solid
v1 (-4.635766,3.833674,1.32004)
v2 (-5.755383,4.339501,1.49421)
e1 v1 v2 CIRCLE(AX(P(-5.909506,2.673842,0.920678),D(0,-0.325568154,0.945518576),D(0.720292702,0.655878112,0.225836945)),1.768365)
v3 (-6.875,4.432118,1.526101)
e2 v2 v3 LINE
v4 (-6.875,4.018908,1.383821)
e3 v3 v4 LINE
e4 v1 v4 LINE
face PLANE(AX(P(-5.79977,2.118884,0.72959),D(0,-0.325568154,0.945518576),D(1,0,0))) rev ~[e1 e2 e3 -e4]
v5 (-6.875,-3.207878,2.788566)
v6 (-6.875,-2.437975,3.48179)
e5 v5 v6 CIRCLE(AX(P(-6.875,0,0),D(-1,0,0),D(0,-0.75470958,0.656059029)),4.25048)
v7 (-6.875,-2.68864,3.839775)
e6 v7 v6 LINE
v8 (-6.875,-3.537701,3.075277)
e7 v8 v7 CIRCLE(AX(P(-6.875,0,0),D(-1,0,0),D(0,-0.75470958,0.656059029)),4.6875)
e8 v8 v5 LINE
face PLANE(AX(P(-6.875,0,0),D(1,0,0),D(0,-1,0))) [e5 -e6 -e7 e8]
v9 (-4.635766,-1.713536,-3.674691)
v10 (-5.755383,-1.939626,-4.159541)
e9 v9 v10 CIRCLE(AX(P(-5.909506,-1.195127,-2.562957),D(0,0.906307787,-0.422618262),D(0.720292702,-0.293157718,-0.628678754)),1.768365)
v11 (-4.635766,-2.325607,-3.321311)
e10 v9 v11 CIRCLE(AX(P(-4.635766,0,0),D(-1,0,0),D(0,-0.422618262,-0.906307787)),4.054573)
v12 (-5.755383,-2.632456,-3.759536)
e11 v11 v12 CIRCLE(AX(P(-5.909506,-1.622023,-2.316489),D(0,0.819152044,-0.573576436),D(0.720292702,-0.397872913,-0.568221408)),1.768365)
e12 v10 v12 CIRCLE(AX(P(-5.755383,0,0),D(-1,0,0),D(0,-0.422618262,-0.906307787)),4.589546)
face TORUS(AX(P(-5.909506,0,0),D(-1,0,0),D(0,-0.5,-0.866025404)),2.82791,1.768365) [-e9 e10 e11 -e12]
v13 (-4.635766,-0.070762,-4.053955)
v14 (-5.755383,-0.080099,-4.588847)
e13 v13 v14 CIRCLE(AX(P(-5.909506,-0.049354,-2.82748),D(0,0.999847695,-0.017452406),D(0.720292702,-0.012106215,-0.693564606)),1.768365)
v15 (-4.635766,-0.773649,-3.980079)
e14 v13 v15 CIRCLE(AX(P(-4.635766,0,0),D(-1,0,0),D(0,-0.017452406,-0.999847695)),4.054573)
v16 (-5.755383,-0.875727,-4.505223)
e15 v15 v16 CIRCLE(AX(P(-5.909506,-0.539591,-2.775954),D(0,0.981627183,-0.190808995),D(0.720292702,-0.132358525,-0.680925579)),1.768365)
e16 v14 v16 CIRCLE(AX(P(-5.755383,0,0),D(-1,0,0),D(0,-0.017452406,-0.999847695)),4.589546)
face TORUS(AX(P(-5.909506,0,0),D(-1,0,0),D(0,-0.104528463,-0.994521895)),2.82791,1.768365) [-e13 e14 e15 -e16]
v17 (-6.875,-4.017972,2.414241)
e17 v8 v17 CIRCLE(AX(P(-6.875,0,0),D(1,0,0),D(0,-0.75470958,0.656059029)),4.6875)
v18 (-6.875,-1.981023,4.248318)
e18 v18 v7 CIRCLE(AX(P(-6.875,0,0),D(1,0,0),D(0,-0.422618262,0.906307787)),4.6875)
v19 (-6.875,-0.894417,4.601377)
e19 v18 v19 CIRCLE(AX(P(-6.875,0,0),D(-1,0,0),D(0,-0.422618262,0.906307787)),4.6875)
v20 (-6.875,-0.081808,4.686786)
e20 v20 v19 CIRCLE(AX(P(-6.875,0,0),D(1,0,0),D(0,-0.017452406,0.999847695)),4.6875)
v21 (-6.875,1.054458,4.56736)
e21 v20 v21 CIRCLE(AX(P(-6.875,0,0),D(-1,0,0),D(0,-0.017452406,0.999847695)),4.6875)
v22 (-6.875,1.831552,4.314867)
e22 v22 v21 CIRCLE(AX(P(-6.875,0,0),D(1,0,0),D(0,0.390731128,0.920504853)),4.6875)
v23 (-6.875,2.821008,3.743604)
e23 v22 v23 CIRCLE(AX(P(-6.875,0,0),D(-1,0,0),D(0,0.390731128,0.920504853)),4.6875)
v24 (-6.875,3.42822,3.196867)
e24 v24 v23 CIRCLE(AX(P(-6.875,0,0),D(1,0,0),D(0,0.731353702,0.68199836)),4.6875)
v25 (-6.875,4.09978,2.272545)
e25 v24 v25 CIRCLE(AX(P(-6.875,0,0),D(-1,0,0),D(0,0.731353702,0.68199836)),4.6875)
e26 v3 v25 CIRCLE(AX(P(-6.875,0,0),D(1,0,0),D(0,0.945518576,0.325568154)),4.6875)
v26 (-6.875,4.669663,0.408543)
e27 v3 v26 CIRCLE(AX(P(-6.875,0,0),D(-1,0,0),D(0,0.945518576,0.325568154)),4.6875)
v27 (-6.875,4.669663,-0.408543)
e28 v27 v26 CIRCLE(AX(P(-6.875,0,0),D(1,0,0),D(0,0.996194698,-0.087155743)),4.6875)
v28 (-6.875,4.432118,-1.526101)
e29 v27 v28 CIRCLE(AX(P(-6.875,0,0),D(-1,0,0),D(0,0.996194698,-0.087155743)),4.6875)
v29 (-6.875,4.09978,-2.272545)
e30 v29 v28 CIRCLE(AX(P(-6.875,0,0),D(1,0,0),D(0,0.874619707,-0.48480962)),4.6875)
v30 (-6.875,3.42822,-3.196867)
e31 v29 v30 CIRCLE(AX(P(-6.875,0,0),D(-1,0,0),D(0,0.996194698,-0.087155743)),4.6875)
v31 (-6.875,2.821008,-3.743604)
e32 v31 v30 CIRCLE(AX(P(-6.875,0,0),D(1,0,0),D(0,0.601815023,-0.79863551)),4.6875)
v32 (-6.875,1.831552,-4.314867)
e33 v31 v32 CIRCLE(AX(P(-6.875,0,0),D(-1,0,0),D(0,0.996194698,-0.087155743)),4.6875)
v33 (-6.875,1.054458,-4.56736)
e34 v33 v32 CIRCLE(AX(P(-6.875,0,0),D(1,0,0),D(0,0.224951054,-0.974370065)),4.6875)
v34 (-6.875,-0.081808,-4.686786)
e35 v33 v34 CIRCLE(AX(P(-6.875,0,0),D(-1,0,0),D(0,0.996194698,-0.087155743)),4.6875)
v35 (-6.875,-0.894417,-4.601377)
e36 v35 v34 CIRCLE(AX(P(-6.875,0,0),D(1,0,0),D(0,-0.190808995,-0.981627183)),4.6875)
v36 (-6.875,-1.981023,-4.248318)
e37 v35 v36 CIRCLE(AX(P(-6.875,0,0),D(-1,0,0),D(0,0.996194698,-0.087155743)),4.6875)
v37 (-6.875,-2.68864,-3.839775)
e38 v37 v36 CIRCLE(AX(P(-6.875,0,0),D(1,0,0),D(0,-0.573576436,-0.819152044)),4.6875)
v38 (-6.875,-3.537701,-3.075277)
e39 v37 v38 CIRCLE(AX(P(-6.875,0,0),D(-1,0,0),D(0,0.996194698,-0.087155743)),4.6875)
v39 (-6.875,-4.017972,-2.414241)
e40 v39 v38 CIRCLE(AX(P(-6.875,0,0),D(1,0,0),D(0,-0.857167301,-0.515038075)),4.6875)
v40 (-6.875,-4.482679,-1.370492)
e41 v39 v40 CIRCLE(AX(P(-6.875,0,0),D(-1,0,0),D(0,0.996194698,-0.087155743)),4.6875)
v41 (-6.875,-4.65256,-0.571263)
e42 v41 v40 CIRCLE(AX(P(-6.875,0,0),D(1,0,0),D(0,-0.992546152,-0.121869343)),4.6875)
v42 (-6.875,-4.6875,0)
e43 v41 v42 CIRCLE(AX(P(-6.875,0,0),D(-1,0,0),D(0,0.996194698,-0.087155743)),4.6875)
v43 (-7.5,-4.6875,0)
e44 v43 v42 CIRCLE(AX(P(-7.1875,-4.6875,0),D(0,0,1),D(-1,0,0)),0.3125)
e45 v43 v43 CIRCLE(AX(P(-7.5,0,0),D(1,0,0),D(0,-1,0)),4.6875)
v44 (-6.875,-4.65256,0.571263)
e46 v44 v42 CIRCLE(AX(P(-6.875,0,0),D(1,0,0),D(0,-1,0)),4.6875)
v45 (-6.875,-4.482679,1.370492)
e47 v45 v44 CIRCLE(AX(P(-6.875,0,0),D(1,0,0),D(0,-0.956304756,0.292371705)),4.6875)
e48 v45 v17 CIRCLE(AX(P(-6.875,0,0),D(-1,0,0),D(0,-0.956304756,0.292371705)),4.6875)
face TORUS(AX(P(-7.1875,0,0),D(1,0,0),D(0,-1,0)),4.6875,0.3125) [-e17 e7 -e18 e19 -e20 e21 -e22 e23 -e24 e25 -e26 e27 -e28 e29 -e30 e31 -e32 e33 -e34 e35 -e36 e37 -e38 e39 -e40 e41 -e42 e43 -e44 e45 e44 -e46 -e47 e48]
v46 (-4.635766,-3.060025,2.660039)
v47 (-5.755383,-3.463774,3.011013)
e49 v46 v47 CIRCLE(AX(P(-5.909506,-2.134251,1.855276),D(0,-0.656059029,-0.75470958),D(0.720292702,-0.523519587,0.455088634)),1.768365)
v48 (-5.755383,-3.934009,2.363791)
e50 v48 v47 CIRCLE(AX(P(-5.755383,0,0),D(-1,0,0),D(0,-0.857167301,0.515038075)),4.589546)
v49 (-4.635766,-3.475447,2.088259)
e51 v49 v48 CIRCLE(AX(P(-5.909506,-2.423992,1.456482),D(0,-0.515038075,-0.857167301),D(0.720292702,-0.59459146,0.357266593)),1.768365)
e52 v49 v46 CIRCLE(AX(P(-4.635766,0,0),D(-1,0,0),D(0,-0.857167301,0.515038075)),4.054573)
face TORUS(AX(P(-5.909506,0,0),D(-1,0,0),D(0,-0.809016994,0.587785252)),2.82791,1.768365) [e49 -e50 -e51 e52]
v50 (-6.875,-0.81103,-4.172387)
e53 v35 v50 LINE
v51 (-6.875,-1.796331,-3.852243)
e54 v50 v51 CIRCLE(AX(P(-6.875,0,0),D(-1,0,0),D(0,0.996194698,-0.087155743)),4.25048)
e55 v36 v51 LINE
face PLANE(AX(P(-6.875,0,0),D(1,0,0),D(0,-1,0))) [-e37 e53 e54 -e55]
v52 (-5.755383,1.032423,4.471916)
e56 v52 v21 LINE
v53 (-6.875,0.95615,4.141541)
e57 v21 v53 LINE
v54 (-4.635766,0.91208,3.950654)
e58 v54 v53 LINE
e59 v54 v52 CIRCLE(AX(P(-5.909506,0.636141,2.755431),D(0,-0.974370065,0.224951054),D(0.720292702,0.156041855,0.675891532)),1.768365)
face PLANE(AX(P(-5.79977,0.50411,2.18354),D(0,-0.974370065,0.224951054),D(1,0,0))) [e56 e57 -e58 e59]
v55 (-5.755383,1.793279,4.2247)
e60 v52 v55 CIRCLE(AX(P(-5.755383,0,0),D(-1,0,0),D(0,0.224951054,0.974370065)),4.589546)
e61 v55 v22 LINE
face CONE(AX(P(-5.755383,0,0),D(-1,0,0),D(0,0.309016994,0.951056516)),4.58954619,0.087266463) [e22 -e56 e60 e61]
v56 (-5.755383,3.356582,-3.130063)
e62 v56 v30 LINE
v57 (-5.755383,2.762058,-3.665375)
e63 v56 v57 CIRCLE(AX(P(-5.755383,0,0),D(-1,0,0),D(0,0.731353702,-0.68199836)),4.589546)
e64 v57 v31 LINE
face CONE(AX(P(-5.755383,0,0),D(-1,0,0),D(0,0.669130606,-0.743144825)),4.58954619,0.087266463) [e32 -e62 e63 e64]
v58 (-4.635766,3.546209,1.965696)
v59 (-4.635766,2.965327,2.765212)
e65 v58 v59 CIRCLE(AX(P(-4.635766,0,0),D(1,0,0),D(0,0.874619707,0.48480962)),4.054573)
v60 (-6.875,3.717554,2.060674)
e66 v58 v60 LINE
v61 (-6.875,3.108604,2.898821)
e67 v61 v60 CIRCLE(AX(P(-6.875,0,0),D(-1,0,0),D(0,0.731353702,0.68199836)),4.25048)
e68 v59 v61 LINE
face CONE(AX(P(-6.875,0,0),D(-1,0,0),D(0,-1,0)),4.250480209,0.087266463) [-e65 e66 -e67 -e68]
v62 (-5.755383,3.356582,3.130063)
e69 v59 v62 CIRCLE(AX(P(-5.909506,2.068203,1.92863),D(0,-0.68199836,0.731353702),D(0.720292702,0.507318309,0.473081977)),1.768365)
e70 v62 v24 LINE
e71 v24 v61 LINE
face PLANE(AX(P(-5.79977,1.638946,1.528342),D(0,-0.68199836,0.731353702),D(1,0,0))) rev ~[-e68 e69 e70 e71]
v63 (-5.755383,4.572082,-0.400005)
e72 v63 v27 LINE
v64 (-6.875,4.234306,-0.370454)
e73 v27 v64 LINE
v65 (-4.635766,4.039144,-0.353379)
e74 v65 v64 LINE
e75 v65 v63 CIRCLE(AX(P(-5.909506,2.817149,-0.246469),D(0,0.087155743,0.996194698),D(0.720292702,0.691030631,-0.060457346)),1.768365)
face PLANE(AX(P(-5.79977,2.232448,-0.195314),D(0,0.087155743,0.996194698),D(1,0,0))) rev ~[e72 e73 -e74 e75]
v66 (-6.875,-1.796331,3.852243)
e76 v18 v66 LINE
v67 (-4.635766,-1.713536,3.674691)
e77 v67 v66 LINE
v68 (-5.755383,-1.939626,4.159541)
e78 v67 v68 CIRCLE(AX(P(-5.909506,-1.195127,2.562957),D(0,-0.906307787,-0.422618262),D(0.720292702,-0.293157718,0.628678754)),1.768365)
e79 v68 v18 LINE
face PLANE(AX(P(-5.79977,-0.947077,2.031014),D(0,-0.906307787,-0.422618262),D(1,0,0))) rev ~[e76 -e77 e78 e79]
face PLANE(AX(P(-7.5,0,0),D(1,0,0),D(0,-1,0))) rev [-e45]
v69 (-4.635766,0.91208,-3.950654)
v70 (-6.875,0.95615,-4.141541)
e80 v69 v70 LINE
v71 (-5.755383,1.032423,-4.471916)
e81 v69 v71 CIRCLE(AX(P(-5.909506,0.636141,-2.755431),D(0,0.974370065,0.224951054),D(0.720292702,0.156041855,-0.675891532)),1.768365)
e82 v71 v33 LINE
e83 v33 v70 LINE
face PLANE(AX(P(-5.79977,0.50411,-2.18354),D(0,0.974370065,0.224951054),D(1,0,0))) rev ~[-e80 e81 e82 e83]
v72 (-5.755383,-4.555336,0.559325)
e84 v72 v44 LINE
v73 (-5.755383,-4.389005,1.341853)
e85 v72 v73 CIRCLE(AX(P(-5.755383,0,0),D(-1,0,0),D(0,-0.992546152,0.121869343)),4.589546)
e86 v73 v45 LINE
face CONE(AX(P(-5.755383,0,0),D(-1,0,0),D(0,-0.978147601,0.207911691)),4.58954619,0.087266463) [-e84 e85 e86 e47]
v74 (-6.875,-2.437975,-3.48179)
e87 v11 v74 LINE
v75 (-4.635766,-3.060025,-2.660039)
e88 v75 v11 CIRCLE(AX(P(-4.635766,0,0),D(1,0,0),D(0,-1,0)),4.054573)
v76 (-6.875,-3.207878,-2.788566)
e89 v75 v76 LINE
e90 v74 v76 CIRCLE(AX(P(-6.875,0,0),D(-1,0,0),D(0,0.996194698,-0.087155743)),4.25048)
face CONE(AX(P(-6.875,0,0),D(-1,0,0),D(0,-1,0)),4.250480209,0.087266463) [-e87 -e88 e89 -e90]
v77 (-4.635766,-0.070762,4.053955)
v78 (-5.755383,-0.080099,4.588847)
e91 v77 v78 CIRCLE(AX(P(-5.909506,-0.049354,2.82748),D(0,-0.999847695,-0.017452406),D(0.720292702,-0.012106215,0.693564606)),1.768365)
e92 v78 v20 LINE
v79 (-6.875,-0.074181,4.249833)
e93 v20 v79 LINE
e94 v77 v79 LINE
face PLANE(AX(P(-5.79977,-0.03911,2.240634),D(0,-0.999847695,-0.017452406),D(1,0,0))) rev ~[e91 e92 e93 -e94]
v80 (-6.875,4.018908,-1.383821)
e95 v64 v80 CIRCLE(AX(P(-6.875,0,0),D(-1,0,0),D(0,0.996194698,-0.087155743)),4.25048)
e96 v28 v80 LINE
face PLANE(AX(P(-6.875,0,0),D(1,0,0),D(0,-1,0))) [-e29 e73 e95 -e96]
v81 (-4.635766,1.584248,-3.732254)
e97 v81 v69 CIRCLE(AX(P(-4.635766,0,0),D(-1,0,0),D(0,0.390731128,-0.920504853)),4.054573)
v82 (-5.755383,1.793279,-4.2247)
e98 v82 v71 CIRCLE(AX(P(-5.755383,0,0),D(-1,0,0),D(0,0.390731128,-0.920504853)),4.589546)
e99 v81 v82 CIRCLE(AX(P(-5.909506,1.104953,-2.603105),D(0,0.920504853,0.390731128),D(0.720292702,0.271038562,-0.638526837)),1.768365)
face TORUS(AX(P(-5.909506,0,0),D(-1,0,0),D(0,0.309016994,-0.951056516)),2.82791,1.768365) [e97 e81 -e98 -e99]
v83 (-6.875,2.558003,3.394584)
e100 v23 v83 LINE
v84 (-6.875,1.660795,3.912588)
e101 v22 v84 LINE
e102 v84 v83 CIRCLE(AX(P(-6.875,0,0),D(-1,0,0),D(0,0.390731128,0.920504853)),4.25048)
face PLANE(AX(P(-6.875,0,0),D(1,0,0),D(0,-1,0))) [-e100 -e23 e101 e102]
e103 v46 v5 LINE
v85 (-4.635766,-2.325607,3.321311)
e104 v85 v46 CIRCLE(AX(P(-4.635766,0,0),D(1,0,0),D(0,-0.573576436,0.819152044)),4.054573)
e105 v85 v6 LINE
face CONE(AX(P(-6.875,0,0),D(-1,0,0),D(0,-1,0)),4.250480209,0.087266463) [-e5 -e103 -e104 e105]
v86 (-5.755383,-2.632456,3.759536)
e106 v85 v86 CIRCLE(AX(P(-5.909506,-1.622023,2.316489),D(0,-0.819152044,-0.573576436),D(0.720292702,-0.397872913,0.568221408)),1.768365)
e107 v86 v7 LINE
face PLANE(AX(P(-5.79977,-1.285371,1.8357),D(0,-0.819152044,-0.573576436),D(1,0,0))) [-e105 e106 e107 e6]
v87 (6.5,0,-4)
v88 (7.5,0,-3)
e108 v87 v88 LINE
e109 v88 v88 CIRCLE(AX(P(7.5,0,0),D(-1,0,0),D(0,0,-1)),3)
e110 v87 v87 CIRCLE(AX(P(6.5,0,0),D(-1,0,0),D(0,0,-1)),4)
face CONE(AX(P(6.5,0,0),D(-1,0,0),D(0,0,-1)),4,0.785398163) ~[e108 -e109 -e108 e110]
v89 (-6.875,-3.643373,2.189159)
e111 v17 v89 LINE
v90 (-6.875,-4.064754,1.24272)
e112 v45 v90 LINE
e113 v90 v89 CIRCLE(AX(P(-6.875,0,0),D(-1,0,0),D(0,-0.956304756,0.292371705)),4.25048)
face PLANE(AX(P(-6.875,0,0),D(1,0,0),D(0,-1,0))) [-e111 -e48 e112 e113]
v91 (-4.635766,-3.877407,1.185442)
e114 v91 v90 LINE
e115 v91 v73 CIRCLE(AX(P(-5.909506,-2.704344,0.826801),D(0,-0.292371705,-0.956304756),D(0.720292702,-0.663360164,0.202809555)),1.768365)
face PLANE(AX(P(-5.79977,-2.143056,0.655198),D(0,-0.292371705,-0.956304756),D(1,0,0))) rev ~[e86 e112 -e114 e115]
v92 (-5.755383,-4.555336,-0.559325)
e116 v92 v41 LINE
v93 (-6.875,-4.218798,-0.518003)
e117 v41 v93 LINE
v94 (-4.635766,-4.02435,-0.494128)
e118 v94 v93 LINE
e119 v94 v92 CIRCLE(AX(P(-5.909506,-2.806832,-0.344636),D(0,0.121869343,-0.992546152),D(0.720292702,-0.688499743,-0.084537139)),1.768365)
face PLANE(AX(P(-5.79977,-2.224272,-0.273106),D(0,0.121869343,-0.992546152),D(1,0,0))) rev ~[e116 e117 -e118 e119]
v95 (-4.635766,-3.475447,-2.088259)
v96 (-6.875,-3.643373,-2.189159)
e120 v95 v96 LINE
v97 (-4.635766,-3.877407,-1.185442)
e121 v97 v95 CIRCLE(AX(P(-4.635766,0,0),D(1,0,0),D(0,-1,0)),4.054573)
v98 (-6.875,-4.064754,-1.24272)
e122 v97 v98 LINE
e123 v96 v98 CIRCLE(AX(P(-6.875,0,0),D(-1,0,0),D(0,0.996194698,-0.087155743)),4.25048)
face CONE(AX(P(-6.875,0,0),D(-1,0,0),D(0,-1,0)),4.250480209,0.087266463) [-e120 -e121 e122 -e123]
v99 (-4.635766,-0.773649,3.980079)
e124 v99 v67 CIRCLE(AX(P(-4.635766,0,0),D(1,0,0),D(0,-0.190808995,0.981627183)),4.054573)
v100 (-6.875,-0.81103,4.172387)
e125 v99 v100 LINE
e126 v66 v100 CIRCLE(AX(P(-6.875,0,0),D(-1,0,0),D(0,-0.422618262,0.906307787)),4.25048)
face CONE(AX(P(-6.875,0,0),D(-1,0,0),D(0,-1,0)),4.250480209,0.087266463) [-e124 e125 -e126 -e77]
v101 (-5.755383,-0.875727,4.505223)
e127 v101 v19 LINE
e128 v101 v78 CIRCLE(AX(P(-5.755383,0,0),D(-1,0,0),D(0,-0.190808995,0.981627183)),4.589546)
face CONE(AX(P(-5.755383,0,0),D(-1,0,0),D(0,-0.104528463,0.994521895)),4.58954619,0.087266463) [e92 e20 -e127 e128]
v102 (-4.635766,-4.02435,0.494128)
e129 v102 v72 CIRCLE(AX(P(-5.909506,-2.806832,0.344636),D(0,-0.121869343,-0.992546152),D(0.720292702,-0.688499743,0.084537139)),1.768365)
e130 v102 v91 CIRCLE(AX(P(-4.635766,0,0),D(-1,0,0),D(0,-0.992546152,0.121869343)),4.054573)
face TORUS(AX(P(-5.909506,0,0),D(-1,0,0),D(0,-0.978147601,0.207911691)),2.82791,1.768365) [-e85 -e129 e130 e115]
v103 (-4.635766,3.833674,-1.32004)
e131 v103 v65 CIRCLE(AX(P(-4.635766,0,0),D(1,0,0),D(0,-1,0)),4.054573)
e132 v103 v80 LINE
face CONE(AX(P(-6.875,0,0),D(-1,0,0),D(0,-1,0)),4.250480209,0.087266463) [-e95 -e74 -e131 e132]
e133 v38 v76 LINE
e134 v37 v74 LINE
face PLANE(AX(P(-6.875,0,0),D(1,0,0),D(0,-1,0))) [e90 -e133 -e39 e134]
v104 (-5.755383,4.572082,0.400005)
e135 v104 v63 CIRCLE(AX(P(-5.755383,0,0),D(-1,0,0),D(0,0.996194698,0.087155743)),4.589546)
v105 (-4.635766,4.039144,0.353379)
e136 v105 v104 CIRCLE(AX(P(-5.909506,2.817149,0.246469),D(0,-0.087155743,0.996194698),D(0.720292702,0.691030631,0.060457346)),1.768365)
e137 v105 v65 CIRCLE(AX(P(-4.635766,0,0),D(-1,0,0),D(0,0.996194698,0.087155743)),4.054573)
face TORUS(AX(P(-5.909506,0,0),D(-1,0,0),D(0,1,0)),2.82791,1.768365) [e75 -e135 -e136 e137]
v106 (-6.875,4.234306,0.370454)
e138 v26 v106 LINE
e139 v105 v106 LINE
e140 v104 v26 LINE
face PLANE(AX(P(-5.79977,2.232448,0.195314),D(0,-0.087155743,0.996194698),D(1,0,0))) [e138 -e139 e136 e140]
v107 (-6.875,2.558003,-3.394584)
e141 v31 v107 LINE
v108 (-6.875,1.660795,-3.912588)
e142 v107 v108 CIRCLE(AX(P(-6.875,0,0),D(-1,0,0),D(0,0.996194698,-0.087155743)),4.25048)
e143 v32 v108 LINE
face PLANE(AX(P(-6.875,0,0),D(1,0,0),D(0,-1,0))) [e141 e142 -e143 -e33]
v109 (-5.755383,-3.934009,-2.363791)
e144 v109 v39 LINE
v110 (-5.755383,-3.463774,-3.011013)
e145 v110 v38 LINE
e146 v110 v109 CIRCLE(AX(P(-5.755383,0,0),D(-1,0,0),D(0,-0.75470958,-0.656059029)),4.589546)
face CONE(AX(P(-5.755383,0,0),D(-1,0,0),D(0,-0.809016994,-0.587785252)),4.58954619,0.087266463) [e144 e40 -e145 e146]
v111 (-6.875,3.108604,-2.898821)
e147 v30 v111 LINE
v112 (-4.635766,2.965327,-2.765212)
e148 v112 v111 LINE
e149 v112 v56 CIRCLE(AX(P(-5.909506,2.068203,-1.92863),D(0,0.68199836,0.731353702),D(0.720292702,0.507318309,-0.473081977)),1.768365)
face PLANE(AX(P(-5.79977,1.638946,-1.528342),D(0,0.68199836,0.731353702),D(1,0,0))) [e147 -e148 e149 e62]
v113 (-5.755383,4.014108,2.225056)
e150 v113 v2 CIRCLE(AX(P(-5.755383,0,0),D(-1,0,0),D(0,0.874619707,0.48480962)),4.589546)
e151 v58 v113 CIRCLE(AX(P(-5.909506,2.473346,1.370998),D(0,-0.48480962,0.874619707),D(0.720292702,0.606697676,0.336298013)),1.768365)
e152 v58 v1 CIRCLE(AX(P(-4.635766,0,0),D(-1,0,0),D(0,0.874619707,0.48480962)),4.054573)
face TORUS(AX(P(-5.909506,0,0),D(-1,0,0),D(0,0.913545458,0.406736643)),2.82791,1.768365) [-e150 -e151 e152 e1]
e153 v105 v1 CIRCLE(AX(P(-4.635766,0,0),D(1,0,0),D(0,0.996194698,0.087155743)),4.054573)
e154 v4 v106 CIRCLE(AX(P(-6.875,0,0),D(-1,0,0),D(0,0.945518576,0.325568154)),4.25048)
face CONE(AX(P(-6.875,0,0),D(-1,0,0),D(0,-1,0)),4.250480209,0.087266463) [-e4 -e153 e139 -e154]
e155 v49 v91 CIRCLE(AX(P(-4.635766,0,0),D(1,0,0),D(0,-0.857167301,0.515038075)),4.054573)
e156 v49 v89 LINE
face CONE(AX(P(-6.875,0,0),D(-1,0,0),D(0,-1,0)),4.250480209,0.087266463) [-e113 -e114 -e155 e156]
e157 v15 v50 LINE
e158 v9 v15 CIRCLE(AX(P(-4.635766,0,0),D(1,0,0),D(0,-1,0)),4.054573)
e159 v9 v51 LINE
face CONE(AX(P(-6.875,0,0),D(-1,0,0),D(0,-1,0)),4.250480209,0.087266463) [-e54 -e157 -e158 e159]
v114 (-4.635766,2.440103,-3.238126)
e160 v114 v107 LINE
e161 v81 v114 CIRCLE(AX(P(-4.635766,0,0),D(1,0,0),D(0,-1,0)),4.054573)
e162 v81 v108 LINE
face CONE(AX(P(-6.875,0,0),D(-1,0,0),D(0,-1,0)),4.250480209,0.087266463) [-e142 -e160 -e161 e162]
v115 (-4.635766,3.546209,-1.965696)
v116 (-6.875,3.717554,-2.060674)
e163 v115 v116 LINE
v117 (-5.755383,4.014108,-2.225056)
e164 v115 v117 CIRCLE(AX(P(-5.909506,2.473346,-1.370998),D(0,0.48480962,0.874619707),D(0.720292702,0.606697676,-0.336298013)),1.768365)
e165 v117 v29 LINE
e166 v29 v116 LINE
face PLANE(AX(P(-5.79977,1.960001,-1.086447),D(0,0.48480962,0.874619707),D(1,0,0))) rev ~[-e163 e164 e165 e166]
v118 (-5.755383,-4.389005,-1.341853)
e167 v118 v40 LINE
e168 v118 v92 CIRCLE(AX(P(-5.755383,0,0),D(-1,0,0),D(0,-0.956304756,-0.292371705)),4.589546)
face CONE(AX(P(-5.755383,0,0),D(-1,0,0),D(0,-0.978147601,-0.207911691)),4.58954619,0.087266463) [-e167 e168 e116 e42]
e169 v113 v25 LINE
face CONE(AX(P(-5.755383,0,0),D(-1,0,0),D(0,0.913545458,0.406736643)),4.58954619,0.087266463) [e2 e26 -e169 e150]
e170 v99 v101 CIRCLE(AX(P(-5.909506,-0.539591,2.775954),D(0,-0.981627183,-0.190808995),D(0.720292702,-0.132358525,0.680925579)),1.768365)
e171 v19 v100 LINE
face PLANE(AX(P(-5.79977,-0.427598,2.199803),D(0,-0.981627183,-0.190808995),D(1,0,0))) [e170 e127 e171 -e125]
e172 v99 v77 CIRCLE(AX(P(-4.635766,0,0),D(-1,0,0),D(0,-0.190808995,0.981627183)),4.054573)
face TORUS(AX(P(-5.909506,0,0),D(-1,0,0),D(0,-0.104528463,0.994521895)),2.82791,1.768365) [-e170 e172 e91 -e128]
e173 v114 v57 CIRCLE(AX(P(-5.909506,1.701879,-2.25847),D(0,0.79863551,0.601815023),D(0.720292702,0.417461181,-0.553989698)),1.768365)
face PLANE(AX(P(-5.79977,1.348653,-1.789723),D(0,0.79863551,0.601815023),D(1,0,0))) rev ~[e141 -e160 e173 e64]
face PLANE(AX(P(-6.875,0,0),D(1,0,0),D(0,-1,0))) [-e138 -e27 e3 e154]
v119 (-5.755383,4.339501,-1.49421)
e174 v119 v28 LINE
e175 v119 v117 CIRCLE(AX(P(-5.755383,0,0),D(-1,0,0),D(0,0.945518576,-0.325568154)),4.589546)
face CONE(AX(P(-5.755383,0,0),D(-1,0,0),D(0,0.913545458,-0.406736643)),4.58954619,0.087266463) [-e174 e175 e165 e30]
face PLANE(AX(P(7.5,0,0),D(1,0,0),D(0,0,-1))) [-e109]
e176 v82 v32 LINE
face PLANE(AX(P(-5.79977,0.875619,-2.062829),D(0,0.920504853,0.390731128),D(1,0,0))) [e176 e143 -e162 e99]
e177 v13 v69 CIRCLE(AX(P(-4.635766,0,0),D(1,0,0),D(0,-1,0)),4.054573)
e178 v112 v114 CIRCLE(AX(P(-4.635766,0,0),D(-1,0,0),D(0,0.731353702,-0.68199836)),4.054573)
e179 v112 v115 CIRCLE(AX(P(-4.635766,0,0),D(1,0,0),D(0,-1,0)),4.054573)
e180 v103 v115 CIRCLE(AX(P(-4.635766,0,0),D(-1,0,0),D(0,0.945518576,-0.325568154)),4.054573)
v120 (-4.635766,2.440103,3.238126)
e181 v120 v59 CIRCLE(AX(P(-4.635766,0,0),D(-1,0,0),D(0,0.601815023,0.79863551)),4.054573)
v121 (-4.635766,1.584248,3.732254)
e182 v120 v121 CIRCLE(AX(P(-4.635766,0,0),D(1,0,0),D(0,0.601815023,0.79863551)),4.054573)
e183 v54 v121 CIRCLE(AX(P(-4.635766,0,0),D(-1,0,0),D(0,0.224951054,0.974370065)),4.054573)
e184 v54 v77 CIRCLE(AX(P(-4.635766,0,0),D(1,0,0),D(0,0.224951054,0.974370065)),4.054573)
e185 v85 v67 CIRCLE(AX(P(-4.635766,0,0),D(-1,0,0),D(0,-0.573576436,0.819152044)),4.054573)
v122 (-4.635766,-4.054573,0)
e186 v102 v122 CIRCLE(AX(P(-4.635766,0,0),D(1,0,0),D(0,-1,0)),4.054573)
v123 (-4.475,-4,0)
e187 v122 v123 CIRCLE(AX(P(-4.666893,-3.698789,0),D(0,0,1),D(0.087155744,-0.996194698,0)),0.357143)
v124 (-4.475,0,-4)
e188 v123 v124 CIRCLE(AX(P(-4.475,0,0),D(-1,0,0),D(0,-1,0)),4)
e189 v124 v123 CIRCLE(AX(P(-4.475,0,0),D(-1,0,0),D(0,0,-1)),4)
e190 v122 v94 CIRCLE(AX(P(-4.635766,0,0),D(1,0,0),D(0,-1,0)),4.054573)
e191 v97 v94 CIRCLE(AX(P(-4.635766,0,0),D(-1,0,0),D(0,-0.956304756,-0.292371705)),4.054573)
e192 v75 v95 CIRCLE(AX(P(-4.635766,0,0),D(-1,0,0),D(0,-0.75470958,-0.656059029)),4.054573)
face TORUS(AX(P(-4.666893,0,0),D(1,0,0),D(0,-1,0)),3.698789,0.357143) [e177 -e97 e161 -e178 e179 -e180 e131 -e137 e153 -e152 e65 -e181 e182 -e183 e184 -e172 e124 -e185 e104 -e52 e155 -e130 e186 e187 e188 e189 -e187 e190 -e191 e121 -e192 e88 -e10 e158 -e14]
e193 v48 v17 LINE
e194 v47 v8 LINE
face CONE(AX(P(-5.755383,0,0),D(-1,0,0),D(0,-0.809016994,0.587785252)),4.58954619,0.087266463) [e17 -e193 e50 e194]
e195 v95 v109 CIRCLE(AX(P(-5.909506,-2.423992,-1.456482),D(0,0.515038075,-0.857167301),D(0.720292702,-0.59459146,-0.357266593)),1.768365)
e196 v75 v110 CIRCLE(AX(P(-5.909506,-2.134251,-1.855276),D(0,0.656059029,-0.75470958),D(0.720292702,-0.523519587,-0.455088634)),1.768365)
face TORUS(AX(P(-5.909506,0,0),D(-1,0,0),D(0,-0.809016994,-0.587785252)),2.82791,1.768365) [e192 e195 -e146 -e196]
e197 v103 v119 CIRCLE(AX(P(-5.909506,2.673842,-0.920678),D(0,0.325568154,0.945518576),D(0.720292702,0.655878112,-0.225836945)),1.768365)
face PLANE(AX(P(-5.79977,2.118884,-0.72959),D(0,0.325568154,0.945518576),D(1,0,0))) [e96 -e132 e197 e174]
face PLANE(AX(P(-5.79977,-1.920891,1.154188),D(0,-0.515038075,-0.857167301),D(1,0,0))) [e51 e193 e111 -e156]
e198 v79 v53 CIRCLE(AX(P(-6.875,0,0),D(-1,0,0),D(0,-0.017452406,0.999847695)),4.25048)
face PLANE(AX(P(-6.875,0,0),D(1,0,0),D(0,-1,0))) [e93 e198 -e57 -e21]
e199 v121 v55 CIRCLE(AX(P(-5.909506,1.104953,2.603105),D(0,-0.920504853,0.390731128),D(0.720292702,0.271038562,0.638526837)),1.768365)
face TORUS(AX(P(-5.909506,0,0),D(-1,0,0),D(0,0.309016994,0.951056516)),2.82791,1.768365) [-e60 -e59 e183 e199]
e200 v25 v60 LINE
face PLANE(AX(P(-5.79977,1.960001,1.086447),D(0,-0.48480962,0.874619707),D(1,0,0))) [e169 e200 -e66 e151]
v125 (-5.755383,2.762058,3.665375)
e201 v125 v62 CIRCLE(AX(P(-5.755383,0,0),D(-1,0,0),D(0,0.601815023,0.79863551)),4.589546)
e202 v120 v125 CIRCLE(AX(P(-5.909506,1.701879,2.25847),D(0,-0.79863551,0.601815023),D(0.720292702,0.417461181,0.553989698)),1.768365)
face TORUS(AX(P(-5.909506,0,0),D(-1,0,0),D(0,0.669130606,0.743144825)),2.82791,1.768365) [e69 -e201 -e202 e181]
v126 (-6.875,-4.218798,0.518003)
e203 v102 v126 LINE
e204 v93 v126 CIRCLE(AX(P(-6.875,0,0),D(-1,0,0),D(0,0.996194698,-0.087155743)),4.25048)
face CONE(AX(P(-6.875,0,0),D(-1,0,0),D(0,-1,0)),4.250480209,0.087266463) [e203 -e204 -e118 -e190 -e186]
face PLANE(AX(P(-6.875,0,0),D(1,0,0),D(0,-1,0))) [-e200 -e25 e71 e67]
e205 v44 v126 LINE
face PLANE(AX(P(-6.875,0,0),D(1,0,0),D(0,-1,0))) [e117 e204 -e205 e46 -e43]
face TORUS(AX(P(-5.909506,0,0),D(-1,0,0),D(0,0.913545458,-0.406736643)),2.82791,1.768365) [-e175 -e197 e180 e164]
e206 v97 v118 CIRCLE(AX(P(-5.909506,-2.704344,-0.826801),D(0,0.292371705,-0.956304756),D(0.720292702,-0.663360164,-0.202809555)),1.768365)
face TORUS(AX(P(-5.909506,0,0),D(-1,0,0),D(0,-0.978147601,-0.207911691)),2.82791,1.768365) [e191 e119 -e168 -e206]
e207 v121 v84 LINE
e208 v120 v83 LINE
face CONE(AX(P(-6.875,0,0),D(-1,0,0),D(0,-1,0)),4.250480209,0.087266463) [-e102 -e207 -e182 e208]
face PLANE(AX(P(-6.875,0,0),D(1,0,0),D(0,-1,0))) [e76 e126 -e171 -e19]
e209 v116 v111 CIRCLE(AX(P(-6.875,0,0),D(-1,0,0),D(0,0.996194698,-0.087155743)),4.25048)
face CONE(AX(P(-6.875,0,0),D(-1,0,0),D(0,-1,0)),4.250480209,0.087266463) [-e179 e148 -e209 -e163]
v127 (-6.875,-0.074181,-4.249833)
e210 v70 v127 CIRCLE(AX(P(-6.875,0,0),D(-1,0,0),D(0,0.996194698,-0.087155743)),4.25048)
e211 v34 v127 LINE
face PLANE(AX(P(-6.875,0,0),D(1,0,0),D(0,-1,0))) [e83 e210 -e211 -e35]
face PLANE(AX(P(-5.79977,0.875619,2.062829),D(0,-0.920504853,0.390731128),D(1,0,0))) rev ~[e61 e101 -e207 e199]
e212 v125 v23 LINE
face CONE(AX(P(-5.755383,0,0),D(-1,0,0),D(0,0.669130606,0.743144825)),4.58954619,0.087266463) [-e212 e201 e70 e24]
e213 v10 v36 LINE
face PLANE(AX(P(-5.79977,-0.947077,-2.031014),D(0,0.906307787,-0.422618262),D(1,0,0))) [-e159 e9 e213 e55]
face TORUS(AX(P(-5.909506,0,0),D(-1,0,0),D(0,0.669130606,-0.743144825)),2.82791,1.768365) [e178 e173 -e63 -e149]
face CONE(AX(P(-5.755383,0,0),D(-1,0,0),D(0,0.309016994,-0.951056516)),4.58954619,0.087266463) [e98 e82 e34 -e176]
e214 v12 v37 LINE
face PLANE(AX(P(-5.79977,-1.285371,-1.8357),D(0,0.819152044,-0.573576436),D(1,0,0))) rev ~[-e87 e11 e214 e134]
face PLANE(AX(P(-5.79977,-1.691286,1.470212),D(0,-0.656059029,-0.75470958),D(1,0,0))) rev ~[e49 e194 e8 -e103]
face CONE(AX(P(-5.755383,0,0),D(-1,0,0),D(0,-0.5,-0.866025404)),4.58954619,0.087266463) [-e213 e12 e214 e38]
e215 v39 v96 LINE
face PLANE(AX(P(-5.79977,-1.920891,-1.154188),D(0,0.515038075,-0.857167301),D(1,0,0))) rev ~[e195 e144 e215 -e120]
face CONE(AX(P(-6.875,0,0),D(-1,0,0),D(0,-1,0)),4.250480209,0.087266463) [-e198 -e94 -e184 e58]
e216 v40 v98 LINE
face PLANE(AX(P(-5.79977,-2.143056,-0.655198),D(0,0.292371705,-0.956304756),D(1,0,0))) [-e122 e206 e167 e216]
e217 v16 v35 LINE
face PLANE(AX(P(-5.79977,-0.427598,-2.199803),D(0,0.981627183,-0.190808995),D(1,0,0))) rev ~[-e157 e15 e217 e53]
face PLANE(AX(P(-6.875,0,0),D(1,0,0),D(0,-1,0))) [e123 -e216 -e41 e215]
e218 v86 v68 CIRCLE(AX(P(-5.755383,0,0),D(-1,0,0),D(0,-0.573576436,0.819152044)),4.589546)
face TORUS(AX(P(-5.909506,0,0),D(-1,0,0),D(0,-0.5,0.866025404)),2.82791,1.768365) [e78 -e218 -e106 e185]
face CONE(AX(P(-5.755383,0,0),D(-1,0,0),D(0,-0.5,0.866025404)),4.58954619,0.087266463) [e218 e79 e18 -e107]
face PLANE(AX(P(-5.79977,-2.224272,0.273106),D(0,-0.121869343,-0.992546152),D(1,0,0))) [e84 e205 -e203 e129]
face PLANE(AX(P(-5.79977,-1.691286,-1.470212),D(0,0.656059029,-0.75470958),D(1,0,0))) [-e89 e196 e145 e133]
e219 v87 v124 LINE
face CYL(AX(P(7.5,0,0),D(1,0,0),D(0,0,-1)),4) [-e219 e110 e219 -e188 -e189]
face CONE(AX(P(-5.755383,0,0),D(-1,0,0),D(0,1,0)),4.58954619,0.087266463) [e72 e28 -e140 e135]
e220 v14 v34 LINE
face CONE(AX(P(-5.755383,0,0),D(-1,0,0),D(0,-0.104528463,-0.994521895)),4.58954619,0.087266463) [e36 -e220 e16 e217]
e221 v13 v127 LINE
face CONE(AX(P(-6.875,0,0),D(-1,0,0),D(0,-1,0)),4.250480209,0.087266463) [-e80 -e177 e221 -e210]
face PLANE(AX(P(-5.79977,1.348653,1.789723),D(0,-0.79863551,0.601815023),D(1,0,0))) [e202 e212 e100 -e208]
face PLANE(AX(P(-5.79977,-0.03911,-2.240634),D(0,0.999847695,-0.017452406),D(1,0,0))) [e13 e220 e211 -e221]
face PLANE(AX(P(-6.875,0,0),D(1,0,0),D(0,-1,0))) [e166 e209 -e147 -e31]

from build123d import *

# Parameters (mm, degrees)
BOSS_EXTRUDE1_START = 7.5
SKETCH2_R           = 4
BOSS_EXTRUDE1_DEPTH = 15
REVOLVE2_ANGLE      = 10
CIRPATTERN1_COUNT   = 15
CHAMFER1_SIZE       = 1


with BuildPart() as part:
    # Sketch2 → Boss-Extrude1 (new body)
    with BuildSketch(Plane(origin=(0, 0, 0), x_dir=(0, 0, -1), z_dir=(1, 0, 0)).offset(BOSS_EXTRUDE1_START)):
        Circle(SKETCH2_R)
    extrude(amount=-BOSS_EXTRUDE1_DEPTH)

    # Sketch5 → Revolve1 (revolve)
    with BuildSketch(Plane.XY, mode=Mode.PRIVATE) as revolve1_sk:
        with BuildLine():
            Line((-7.5, 0), (-7.5, 4.6875))
            ThreePointArc((-7.5, 4.6875), (-7.1875, 5), (-6.875, 4.6875))
            Line((-6.875, 4.6875), (-6.875, 4.250480209))
            Line((-6.875, 4.250480209), (-4.635765666, 4.05457259))
            ThreePointArc((-4.635765666, 4.05457259), (-4.475, 4), (-4.35759793, 3.877360198))
            Line((-4.35759793, 3.877360198), (-2.119002976, 0))
            Line((-2.119002976, 0), (-7.5, 0))
        make_face()
    revolve(revolve1_sk.sketch.rotate(Axis((-7.5, 0, 0), (1, 0, 0)), 180), axis=Axis((-7.5, 0, 0), (1, 0, 0)))

    # Sketch6 → Revolve2 (revolve, symmetric)
    with BuildSketch(Plane.XY) as revolve2_sk:
        with BuildLine():
            Line((-6.875, 4.6875), (-6.875, 0))
            Line((-6.875, 0), (-4.635765666, 0))
            Line((-4.635765666, 0), (-4.635765666, 4.05457259))
            ThreePointArc((-4.635765666, 4.05457259), (-5.147109952, 4.423487684), (-5.755382833, 4.58954619))
            Line((-5.755382833, 4.58954619), (-6.875, 4.6875))
        make_face()
    revolve(axis=Axis((-6.875, 0, 0), (1, 0, 0)), revolution_arc=REVOLVE2_ANGLE / 2)
    revolve(revolve2_sk.sketch, axis=Axis((-6.875, 0, 0), (-1, 0, 0)), revolution_arc=REVOLVE2_ANGLE / 2)

    # CirPattern1: part ×15 about axis
    cirpattern1_axis = Axis((0, 0, 0), (1, 0, 0))


with BuildPart() as part_1:
    add(part.part)
    for i in range(1, CIRPATTERN1_COUNT):
        add(part.part.rotate(cirpattern1_axis, i * 360 / CIRPATTERN1_COUNT))

    # Chamfer1
    chamfer1_edges = [part_1.edges().sort_by_distance(p)[0] for p in [
        (7.5, 0, 4),
    ]]
    chamfer(chamfer1_edges, length=CHAMFER1_SIZE)


solid = part_1.part
